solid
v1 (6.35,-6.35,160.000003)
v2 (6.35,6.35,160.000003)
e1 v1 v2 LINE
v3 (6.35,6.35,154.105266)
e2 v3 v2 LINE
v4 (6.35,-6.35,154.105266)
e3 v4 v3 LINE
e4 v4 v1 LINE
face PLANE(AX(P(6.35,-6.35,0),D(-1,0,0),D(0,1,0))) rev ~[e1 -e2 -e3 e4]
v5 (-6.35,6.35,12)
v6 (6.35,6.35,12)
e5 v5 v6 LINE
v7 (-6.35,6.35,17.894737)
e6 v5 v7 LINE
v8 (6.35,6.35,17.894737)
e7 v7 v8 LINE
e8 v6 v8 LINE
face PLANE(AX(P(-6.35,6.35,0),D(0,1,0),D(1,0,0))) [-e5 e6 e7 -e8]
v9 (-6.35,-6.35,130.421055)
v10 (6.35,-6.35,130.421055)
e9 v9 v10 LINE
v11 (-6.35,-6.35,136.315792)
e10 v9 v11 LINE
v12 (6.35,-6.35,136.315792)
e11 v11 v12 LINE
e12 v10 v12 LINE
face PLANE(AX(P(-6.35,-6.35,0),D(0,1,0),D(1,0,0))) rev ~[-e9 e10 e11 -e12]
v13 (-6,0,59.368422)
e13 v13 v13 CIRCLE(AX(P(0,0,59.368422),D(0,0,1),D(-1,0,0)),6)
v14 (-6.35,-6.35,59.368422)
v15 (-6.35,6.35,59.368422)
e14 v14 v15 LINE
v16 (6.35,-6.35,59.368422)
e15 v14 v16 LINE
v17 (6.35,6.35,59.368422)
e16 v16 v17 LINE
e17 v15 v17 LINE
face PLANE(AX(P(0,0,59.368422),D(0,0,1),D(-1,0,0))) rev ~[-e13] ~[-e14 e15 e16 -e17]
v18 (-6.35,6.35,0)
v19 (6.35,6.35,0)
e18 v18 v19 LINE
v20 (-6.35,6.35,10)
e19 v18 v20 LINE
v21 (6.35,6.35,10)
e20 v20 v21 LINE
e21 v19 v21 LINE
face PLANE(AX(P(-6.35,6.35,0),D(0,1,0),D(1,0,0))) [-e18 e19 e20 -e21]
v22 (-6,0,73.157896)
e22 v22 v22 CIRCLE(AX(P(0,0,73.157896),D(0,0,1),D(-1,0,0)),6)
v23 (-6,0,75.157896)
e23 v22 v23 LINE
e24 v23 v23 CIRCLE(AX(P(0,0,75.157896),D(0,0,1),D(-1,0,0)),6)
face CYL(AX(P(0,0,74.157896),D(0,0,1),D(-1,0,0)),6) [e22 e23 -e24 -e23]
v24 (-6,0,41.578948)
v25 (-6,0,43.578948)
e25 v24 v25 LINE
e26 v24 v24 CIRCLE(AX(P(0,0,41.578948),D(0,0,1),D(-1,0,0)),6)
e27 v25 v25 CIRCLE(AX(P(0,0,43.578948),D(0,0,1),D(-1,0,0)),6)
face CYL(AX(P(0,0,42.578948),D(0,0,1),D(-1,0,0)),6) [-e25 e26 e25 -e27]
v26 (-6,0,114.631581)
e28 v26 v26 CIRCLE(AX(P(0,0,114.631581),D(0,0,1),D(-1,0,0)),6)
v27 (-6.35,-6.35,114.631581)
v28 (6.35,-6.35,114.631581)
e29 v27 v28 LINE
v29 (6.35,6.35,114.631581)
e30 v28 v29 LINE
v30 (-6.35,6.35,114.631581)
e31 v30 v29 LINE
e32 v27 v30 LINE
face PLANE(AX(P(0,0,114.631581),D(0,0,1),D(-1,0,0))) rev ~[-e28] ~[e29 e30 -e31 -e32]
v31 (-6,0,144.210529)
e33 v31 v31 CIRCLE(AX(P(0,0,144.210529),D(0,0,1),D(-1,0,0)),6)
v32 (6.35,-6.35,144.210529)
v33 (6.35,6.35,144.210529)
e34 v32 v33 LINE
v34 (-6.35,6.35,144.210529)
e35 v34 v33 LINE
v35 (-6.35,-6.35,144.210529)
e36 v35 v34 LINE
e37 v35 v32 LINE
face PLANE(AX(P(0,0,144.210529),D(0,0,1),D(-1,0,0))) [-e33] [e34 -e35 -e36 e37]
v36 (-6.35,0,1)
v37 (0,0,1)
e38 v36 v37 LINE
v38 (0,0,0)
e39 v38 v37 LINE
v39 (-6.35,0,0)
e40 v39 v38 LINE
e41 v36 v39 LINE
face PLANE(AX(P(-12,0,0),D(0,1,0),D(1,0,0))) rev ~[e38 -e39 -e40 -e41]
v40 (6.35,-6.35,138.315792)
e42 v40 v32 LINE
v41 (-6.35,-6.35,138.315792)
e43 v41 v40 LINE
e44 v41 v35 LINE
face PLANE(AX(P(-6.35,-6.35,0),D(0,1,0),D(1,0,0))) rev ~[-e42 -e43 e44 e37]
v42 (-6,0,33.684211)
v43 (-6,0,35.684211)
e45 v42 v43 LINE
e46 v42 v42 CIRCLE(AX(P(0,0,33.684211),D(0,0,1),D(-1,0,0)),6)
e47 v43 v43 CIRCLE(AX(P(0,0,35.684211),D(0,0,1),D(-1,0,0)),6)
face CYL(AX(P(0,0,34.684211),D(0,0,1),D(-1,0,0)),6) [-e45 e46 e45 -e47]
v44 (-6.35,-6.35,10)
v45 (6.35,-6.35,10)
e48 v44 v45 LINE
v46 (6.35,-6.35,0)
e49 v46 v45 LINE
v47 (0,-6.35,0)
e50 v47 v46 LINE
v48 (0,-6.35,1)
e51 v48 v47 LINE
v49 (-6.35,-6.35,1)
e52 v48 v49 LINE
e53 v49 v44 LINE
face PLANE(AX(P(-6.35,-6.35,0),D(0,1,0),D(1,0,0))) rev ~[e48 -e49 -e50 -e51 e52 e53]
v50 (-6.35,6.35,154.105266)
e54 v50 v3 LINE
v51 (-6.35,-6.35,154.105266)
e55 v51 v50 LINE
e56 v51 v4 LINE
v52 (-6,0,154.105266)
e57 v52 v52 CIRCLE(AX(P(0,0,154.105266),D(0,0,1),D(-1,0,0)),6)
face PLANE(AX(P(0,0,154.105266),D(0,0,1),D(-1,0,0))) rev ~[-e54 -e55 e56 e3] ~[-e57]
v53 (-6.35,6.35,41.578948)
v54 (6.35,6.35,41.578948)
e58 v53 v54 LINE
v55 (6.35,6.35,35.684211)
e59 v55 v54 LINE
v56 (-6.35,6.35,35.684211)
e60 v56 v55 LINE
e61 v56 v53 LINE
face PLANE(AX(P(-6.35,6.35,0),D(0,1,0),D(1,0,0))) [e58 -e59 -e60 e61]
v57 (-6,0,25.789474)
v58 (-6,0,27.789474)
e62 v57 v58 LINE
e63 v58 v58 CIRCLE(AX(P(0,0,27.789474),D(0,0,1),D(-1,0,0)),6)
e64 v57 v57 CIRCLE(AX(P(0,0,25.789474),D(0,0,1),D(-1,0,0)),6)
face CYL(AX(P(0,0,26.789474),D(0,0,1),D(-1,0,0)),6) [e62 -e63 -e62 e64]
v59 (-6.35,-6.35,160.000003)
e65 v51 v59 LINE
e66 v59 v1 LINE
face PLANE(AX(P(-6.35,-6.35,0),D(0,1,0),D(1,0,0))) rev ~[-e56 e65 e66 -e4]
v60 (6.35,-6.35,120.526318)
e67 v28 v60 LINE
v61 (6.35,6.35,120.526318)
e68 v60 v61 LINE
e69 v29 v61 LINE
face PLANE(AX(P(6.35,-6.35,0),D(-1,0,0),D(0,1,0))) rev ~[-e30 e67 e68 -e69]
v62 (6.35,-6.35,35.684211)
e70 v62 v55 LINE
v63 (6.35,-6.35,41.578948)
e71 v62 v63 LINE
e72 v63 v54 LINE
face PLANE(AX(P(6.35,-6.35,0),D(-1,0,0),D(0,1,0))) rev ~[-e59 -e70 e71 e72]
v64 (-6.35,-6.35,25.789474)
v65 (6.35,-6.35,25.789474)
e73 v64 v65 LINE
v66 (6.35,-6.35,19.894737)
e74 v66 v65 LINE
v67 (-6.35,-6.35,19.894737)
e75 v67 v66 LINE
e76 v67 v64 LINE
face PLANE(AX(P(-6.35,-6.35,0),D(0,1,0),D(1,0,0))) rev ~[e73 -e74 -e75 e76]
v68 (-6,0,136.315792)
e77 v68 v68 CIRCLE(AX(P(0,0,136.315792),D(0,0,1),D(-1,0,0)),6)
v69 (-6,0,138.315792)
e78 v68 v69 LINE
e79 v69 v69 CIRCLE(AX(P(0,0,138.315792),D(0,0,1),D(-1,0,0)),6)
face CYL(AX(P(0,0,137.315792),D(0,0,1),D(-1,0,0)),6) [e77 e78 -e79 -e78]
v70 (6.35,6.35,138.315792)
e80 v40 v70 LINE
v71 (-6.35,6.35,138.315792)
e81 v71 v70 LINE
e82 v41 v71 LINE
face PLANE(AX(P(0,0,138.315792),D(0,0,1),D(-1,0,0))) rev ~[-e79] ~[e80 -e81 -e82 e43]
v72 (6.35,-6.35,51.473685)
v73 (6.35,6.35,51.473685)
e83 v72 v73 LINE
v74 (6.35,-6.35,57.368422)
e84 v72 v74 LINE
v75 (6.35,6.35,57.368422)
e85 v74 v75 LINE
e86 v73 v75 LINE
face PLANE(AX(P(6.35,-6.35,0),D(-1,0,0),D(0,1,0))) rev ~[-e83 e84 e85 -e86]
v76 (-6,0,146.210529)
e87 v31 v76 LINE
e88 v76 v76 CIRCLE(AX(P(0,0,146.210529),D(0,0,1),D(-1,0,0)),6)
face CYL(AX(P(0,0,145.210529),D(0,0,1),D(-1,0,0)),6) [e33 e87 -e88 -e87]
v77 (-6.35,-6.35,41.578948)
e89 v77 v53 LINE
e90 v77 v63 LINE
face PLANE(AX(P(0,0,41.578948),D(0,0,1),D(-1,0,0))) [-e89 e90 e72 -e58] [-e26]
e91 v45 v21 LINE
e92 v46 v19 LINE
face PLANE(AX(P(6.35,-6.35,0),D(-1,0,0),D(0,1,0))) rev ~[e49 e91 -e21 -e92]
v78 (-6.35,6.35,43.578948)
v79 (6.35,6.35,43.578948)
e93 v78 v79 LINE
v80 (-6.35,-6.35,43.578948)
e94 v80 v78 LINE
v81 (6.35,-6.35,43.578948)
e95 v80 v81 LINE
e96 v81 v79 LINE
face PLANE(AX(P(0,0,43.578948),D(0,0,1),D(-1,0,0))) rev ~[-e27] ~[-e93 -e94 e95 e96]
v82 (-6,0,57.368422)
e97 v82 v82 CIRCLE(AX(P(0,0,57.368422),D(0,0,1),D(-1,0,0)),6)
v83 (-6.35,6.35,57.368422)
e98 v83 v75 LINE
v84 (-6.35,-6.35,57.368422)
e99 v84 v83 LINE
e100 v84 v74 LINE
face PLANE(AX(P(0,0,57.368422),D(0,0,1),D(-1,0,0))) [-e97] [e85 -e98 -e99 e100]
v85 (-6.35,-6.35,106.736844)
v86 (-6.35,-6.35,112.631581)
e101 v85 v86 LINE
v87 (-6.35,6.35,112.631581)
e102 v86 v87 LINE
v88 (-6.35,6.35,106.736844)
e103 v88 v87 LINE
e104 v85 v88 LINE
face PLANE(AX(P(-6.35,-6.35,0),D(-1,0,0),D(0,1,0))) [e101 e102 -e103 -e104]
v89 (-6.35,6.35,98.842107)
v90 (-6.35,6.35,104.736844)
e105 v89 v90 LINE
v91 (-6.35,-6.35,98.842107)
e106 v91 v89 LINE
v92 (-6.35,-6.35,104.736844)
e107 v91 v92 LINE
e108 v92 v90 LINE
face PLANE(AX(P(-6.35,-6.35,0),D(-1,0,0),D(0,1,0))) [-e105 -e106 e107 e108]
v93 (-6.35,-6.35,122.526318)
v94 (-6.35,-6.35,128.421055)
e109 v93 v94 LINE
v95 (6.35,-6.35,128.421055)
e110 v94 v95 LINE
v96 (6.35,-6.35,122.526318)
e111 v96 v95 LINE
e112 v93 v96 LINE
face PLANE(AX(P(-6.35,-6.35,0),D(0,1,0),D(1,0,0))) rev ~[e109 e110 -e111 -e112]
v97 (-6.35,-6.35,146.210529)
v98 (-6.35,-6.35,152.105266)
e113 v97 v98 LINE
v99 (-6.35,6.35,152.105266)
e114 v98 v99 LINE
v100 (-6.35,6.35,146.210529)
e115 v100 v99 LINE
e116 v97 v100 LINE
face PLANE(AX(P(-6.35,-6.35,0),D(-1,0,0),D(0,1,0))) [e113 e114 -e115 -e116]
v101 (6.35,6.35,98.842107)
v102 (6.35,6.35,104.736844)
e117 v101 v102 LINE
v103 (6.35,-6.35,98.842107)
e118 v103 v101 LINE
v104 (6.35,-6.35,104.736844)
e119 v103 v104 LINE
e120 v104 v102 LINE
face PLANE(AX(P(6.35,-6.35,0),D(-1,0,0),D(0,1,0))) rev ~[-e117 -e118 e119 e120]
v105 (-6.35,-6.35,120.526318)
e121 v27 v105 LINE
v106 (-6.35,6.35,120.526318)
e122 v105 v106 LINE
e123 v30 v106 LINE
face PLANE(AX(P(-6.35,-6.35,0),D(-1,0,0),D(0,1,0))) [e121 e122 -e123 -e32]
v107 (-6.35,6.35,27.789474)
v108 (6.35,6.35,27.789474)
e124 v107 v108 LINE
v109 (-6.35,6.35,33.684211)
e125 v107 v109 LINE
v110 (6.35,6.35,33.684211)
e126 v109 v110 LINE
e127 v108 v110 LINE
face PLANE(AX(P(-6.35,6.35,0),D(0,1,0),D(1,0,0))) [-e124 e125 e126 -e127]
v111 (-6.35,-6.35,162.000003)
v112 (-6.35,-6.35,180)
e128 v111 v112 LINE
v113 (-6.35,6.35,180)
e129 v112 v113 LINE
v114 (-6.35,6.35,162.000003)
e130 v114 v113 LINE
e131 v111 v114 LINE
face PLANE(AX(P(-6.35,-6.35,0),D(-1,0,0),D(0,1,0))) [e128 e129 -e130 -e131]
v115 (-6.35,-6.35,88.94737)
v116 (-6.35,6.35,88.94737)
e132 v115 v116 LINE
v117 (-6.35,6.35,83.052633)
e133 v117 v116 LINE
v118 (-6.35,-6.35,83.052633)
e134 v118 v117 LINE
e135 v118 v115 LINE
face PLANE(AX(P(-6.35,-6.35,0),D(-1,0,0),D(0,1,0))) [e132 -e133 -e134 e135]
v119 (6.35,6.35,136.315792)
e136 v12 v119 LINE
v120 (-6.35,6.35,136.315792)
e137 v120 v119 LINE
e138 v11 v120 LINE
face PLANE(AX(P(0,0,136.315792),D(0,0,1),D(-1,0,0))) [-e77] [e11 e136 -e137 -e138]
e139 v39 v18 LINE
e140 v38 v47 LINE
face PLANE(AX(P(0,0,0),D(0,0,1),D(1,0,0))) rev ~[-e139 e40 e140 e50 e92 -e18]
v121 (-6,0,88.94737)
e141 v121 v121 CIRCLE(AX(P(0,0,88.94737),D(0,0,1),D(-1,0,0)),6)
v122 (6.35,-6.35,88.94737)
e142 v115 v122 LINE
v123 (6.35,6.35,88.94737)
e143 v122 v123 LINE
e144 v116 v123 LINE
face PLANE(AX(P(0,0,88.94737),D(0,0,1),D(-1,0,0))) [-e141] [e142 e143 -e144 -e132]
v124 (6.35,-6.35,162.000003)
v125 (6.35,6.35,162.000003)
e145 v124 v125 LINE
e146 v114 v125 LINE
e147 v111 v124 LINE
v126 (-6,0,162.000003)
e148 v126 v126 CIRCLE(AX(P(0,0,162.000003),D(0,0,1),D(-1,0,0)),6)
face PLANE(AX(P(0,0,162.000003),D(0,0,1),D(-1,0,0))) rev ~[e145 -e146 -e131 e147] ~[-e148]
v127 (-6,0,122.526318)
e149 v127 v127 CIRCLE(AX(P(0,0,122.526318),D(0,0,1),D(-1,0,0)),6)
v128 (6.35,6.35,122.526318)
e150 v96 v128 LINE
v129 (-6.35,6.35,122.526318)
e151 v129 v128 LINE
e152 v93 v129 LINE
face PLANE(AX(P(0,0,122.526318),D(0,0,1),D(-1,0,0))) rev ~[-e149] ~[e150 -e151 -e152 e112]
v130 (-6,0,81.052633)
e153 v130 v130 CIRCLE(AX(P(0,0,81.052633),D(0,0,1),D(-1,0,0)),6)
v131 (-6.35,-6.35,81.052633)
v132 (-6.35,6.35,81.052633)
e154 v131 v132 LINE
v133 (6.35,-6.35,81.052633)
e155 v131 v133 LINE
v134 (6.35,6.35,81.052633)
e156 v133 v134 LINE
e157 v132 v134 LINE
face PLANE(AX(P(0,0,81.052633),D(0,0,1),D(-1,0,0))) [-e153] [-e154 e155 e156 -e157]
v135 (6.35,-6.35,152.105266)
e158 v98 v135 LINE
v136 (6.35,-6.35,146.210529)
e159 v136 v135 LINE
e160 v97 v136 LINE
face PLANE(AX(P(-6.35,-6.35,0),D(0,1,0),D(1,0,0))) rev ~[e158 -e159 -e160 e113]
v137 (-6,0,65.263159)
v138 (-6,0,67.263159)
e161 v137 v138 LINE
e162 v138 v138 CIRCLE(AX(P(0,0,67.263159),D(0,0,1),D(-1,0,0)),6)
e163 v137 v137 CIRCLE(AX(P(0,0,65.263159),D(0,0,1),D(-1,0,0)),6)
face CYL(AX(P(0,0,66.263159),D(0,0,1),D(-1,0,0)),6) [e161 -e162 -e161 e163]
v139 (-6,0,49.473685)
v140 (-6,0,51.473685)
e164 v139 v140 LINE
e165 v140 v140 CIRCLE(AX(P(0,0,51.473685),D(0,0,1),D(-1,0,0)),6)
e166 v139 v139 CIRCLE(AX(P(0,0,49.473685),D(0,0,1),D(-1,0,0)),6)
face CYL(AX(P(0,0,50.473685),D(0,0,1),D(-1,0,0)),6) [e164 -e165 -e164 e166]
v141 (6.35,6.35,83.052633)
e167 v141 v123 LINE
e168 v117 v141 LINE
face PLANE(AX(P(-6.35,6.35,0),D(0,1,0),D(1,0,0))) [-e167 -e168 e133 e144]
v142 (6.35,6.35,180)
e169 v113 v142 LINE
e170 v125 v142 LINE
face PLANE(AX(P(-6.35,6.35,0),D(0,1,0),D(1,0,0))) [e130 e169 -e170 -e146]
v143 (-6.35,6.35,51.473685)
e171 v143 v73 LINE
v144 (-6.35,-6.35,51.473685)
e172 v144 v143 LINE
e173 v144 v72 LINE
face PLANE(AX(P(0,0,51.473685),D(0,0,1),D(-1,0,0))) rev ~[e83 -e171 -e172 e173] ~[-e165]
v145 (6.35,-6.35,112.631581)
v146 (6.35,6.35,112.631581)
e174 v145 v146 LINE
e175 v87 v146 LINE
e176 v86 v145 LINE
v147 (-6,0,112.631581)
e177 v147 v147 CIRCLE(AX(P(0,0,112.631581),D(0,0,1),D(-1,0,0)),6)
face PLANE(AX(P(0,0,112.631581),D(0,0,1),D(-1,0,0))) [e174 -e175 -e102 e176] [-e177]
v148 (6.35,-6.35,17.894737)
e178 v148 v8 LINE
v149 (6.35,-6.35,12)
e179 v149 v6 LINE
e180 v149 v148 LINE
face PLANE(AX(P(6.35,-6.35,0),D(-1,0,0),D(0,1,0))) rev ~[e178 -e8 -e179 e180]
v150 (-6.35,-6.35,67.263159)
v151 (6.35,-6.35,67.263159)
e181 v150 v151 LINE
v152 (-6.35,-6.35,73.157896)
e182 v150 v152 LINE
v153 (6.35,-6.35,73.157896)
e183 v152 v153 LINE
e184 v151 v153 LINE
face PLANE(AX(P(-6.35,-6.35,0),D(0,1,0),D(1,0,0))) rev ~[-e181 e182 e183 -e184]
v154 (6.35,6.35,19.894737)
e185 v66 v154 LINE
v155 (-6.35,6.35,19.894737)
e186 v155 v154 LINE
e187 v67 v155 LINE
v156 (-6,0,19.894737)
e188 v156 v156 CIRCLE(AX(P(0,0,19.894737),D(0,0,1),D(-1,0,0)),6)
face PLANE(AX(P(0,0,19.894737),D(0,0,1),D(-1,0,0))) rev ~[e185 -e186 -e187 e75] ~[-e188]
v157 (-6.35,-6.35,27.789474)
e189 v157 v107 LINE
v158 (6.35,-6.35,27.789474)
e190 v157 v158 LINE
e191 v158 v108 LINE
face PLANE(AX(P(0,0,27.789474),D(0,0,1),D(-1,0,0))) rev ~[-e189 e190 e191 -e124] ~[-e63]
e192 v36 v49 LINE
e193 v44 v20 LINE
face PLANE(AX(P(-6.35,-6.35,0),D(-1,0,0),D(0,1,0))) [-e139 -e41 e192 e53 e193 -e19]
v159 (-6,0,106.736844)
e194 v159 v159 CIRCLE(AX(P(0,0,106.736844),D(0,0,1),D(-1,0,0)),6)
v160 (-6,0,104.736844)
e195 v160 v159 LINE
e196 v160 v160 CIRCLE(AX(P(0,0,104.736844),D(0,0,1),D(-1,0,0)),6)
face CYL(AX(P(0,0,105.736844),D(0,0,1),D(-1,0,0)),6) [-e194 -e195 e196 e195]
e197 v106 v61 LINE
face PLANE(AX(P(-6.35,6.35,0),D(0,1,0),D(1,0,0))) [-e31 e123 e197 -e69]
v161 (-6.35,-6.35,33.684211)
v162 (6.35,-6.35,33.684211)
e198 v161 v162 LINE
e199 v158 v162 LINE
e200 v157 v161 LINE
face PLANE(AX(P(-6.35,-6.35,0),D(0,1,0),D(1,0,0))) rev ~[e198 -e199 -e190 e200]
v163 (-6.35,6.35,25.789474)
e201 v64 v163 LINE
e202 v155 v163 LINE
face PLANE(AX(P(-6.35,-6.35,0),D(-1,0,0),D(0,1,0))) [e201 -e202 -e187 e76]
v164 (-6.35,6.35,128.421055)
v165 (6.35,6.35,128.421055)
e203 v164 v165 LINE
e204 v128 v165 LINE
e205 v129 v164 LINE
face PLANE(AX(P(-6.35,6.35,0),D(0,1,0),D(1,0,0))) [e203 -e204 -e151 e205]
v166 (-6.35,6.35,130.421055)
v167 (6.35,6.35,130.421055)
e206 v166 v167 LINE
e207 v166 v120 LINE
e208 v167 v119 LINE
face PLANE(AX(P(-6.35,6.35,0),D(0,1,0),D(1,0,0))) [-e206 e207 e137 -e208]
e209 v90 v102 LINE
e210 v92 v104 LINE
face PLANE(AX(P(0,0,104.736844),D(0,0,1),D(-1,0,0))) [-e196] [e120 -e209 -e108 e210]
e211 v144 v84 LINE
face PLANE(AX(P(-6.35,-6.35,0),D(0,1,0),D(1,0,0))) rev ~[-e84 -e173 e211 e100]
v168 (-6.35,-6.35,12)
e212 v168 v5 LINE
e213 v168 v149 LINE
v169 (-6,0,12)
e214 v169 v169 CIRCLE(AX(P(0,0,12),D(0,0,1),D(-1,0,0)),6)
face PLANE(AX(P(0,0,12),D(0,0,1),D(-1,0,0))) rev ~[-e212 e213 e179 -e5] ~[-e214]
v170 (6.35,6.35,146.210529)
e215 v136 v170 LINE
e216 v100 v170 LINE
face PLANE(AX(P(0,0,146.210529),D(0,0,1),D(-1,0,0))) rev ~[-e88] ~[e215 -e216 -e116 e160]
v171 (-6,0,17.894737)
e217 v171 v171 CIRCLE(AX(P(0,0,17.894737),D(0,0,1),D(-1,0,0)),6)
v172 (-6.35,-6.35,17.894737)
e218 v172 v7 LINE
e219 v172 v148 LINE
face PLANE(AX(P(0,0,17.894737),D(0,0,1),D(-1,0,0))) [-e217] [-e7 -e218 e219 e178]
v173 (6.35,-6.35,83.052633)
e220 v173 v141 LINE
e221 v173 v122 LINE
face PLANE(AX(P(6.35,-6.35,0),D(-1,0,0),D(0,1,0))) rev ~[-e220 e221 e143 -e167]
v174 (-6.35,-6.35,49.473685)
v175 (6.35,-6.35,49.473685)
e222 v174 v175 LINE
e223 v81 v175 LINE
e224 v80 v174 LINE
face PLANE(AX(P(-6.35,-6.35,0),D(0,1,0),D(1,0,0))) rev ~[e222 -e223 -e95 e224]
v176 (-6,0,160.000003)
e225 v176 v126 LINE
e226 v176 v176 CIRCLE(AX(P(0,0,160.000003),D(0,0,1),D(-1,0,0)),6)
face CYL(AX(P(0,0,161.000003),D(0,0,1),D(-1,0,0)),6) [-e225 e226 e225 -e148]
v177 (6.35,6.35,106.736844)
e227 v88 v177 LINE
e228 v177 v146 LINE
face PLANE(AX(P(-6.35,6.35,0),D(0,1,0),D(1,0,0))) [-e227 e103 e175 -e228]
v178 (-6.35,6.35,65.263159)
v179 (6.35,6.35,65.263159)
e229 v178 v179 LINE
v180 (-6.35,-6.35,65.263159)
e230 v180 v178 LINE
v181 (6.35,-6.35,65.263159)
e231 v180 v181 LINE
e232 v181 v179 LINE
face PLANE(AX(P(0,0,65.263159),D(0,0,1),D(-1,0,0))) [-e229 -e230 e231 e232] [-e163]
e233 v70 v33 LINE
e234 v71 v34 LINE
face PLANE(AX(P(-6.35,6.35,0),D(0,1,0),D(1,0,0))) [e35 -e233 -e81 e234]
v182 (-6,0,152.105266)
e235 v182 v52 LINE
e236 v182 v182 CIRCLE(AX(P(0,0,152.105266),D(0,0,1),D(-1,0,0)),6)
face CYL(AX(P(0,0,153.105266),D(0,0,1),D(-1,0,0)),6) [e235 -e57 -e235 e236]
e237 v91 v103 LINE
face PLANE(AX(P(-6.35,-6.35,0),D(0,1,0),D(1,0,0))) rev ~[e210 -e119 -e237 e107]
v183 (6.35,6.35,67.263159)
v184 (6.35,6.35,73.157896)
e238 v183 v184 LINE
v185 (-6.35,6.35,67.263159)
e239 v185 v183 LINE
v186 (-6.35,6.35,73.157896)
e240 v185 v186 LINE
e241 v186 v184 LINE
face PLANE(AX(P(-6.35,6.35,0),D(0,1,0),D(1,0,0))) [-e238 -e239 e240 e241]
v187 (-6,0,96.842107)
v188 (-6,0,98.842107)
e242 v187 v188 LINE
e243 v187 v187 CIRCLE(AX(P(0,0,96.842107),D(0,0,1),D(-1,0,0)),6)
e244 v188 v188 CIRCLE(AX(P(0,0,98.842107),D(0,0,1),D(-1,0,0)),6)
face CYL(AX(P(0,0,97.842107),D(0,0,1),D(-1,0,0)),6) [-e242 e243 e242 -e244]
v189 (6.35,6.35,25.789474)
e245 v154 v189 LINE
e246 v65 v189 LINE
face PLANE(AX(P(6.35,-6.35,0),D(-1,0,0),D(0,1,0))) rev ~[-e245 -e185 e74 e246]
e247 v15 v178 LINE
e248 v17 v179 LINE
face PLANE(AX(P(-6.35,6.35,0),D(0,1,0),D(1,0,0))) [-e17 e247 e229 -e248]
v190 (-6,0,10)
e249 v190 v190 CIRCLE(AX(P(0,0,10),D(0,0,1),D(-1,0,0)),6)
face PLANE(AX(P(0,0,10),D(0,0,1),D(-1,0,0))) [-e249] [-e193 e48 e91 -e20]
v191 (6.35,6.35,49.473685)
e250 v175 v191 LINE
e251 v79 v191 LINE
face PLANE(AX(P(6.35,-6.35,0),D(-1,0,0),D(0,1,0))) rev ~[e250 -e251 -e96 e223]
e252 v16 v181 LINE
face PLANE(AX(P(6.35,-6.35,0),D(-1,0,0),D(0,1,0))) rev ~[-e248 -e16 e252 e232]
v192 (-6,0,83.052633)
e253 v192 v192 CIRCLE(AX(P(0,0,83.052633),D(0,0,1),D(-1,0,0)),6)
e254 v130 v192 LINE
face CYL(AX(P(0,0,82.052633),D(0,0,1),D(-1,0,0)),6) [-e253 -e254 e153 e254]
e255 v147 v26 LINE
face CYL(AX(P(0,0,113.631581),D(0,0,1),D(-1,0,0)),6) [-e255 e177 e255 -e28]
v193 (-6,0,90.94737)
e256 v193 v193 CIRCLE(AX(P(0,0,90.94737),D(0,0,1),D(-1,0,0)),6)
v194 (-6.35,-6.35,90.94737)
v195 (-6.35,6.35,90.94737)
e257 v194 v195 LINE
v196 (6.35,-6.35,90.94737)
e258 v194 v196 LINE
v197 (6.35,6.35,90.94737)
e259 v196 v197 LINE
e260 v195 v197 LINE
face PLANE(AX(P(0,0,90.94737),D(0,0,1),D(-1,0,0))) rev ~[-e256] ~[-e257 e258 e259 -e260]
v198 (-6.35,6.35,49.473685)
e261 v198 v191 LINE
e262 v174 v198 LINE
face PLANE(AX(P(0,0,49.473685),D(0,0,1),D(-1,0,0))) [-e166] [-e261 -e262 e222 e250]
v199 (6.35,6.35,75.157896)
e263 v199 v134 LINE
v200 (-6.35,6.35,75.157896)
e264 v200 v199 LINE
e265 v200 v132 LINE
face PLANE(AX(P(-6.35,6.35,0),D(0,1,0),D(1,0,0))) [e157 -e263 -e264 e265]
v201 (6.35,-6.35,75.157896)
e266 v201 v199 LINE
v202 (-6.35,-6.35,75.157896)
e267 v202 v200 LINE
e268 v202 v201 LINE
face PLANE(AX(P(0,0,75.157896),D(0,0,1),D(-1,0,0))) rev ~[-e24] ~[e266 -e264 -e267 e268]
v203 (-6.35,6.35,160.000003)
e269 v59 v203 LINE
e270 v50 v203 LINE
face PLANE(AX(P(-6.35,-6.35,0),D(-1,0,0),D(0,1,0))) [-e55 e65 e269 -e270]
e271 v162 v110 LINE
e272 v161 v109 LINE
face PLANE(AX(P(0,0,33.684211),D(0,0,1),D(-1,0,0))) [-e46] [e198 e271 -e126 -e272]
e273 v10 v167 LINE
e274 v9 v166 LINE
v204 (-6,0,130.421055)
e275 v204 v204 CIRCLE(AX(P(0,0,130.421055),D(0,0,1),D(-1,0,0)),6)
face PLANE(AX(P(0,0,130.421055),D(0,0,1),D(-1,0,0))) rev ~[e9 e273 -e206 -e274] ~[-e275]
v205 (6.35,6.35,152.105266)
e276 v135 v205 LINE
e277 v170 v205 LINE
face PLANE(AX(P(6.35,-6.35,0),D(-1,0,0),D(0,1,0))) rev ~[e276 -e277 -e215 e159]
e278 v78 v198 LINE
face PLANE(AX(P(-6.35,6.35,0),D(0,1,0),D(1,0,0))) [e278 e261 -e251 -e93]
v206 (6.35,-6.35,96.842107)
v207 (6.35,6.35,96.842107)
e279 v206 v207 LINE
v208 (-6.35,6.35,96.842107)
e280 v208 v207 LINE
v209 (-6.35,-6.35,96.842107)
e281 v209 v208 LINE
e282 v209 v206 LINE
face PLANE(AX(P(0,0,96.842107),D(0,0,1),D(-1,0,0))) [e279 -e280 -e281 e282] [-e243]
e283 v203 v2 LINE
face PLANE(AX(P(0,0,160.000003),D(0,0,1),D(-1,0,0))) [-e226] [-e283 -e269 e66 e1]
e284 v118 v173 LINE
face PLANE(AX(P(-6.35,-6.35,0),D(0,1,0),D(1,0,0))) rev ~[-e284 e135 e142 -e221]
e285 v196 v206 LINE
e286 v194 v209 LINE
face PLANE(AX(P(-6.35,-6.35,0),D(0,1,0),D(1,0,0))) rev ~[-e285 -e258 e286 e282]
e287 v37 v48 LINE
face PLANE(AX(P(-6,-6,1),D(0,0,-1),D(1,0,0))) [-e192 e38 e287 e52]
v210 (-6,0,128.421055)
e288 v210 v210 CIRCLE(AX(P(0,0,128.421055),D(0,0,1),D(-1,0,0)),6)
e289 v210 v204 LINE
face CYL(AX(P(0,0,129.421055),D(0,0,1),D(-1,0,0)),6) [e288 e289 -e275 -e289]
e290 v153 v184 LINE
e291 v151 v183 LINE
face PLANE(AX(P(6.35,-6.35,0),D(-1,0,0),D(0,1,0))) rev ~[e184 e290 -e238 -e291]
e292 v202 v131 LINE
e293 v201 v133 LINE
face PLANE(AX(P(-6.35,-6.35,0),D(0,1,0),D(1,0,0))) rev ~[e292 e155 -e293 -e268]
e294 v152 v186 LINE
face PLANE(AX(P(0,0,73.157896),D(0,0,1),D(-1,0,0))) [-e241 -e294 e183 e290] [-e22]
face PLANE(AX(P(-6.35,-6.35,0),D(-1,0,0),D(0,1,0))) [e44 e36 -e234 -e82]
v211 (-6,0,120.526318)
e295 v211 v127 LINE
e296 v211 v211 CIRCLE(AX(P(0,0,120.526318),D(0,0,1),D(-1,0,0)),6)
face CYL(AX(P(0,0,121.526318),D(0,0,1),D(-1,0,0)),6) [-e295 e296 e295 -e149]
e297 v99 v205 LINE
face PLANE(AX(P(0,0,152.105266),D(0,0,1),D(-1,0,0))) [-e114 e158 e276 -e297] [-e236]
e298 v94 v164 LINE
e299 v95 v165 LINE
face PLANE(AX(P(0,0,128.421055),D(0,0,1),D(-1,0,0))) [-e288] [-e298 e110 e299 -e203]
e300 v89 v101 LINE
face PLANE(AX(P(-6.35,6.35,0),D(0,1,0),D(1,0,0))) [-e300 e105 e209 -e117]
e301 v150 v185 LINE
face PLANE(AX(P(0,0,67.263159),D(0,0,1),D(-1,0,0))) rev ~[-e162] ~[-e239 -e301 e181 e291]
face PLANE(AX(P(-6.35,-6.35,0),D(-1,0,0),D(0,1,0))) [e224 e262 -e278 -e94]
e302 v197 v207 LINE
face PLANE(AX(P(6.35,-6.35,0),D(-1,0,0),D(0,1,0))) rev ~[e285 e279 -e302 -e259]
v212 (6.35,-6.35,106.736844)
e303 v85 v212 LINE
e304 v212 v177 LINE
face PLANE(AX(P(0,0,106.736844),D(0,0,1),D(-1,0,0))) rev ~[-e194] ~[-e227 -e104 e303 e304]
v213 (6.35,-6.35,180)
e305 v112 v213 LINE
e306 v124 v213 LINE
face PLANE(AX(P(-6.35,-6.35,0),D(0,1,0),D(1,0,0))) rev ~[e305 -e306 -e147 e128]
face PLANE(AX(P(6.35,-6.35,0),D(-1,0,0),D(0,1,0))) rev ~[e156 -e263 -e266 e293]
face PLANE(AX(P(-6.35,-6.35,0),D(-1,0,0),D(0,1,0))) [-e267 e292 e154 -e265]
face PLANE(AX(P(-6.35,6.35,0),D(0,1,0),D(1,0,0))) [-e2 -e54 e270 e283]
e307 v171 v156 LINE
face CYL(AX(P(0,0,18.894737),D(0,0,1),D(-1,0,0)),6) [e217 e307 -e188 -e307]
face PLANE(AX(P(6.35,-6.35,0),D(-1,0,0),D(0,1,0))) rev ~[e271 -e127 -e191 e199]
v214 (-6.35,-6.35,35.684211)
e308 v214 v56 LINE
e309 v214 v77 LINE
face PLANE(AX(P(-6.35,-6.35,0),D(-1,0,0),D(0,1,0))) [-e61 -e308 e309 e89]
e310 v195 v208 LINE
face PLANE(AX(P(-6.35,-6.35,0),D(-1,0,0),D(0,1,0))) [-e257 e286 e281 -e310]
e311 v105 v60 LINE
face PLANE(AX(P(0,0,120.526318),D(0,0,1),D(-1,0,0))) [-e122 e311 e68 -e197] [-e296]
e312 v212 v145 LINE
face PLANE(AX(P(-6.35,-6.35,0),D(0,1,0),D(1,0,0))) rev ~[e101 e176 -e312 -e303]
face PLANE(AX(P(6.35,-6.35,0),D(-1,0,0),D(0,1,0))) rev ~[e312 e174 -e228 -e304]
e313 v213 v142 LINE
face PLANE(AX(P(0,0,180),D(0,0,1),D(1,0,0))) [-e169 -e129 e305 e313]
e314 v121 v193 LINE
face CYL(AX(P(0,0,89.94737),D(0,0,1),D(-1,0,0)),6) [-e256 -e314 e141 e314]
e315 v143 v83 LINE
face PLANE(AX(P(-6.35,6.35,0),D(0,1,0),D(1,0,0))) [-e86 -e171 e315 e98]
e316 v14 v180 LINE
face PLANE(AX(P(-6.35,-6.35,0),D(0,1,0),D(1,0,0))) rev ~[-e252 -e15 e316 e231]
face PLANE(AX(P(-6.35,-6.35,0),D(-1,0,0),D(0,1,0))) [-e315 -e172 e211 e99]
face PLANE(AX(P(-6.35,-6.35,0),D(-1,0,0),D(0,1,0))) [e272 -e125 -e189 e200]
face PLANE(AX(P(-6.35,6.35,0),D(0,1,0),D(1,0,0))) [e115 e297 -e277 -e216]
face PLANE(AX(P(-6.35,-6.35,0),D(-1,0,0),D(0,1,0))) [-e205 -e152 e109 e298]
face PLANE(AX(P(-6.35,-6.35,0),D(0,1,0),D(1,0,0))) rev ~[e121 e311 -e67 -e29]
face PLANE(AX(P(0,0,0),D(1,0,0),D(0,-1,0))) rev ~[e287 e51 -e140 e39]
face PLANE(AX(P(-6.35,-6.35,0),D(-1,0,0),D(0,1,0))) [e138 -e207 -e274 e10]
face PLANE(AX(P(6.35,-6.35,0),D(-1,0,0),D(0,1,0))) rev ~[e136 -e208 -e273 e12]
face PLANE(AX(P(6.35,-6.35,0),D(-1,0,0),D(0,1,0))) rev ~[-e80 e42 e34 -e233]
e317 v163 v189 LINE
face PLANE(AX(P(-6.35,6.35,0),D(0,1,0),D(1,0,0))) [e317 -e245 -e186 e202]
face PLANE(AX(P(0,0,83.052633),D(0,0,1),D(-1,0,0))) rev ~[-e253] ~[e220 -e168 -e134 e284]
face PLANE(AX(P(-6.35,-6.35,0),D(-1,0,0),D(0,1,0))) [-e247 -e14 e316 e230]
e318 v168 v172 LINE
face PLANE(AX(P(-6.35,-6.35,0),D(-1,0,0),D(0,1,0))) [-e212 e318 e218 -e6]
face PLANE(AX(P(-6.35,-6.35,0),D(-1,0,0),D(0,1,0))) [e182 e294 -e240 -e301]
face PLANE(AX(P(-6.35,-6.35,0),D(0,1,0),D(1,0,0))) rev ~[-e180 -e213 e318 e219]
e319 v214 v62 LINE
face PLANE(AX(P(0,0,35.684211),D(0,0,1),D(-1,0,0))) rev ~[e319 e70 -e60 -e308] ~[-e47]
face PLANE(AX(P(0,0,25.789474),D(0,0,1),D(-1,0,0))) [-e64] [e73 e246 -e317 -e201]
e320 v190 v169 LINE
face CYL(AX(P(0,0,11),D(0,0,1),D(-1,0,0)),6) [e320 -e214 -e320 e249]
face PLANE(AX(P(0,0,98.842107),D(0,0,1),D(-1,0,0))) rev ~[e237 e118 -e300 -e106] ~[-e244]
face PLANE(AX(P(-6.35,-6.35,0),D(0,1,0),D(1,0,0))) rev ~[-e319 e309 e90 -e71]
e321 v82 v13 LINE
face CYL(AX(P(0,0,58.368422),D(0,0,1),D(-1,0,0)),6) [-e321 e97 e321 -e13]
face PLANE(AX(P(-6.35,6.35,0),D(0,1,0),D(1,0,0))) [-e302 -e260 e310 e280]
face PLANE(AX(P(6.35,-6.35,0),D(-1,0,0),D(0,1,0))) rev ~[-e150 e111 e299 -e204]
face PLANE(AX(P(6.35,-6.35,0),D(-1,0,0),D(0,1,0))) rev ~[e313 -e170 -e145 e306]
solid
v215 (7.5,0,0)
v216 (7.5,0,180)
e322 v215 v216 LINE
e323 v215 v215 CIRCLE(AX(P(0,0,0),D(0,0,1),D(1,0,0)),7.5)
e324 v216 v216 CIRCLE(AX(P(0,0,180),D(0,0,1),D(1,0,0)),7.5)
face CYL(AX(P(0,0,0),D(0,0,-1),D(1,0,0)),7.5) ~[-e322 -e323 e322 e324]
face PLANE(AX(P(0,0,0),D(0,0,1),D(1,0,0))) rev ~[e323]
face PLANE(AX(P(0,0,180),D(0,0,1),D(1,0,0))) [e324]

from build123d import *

# Parameters (mm, degrees)
SKETCH002_R         = 7.5
PAD001_DEPTH        = 180
SKETCH001_W         = 12.7
SKETCH001_H         = 12.7
PAD_DEPTH           = 180
SKETCH006_W         = 12
SKETCH006_H         = 12
POCKET_DEPTH        = 1
SKETCH005_W         = 20
SKETCH005_H         = 2
LINEARPATTERN_COUNT = 20
LINEARPATTERN_PITCH = 7.894737


with BuildPart() as pad001:
    # Sketch002 → Pad001 (new body)
    with BuildSketch(Plane.XY):
        Circle(SKETCH002_R)
    extrude(amount=PAD001_DEPTH)


with BuildPart() as linearpattern:
    # Sketch001 → Pad (new body)
    with BuildSketch(Plane.XY):
        Rectangle(SKETCH001_W, SKETCH001_H)
    extrude(amount=PAD_DEPTH)

    # Sketch006 → Pocket (cut)
    with BuildSketch(Plane(origin=(0, 0, 0), x_dir=(1, 0, 0), z_dir=(0, 0, -1))):
        with Locations((-6, 6)):
            Rectangle(SKETCH006_W, SKETCH006_H)
    extrude(amount=-POCKET_DEPTH, mode=Mode.SUBTRACT)

    # Sketch005 → Groove (revolve, cut)
    with BuildSketch(Plane.XZ):
        with Locations((-16, 11)):
            Rectangle(SKETCH005_W, SKETCH005_H)
    groove = revolve(axis=Axis((0, 0, 0), (0, 0, 1)), mode=Mode.SUBTRACT)

    # LinearPattern: Groove ×20
    with Locations(*[(0, 0, i * LINEARPATTERN_PITCH) for i in range(1, LINEARPATTERN_COUNT)]):
        add(groove, mode=Mode.SUBTRACT)


solid = Compound([pad001.part, linearpattern.part])
